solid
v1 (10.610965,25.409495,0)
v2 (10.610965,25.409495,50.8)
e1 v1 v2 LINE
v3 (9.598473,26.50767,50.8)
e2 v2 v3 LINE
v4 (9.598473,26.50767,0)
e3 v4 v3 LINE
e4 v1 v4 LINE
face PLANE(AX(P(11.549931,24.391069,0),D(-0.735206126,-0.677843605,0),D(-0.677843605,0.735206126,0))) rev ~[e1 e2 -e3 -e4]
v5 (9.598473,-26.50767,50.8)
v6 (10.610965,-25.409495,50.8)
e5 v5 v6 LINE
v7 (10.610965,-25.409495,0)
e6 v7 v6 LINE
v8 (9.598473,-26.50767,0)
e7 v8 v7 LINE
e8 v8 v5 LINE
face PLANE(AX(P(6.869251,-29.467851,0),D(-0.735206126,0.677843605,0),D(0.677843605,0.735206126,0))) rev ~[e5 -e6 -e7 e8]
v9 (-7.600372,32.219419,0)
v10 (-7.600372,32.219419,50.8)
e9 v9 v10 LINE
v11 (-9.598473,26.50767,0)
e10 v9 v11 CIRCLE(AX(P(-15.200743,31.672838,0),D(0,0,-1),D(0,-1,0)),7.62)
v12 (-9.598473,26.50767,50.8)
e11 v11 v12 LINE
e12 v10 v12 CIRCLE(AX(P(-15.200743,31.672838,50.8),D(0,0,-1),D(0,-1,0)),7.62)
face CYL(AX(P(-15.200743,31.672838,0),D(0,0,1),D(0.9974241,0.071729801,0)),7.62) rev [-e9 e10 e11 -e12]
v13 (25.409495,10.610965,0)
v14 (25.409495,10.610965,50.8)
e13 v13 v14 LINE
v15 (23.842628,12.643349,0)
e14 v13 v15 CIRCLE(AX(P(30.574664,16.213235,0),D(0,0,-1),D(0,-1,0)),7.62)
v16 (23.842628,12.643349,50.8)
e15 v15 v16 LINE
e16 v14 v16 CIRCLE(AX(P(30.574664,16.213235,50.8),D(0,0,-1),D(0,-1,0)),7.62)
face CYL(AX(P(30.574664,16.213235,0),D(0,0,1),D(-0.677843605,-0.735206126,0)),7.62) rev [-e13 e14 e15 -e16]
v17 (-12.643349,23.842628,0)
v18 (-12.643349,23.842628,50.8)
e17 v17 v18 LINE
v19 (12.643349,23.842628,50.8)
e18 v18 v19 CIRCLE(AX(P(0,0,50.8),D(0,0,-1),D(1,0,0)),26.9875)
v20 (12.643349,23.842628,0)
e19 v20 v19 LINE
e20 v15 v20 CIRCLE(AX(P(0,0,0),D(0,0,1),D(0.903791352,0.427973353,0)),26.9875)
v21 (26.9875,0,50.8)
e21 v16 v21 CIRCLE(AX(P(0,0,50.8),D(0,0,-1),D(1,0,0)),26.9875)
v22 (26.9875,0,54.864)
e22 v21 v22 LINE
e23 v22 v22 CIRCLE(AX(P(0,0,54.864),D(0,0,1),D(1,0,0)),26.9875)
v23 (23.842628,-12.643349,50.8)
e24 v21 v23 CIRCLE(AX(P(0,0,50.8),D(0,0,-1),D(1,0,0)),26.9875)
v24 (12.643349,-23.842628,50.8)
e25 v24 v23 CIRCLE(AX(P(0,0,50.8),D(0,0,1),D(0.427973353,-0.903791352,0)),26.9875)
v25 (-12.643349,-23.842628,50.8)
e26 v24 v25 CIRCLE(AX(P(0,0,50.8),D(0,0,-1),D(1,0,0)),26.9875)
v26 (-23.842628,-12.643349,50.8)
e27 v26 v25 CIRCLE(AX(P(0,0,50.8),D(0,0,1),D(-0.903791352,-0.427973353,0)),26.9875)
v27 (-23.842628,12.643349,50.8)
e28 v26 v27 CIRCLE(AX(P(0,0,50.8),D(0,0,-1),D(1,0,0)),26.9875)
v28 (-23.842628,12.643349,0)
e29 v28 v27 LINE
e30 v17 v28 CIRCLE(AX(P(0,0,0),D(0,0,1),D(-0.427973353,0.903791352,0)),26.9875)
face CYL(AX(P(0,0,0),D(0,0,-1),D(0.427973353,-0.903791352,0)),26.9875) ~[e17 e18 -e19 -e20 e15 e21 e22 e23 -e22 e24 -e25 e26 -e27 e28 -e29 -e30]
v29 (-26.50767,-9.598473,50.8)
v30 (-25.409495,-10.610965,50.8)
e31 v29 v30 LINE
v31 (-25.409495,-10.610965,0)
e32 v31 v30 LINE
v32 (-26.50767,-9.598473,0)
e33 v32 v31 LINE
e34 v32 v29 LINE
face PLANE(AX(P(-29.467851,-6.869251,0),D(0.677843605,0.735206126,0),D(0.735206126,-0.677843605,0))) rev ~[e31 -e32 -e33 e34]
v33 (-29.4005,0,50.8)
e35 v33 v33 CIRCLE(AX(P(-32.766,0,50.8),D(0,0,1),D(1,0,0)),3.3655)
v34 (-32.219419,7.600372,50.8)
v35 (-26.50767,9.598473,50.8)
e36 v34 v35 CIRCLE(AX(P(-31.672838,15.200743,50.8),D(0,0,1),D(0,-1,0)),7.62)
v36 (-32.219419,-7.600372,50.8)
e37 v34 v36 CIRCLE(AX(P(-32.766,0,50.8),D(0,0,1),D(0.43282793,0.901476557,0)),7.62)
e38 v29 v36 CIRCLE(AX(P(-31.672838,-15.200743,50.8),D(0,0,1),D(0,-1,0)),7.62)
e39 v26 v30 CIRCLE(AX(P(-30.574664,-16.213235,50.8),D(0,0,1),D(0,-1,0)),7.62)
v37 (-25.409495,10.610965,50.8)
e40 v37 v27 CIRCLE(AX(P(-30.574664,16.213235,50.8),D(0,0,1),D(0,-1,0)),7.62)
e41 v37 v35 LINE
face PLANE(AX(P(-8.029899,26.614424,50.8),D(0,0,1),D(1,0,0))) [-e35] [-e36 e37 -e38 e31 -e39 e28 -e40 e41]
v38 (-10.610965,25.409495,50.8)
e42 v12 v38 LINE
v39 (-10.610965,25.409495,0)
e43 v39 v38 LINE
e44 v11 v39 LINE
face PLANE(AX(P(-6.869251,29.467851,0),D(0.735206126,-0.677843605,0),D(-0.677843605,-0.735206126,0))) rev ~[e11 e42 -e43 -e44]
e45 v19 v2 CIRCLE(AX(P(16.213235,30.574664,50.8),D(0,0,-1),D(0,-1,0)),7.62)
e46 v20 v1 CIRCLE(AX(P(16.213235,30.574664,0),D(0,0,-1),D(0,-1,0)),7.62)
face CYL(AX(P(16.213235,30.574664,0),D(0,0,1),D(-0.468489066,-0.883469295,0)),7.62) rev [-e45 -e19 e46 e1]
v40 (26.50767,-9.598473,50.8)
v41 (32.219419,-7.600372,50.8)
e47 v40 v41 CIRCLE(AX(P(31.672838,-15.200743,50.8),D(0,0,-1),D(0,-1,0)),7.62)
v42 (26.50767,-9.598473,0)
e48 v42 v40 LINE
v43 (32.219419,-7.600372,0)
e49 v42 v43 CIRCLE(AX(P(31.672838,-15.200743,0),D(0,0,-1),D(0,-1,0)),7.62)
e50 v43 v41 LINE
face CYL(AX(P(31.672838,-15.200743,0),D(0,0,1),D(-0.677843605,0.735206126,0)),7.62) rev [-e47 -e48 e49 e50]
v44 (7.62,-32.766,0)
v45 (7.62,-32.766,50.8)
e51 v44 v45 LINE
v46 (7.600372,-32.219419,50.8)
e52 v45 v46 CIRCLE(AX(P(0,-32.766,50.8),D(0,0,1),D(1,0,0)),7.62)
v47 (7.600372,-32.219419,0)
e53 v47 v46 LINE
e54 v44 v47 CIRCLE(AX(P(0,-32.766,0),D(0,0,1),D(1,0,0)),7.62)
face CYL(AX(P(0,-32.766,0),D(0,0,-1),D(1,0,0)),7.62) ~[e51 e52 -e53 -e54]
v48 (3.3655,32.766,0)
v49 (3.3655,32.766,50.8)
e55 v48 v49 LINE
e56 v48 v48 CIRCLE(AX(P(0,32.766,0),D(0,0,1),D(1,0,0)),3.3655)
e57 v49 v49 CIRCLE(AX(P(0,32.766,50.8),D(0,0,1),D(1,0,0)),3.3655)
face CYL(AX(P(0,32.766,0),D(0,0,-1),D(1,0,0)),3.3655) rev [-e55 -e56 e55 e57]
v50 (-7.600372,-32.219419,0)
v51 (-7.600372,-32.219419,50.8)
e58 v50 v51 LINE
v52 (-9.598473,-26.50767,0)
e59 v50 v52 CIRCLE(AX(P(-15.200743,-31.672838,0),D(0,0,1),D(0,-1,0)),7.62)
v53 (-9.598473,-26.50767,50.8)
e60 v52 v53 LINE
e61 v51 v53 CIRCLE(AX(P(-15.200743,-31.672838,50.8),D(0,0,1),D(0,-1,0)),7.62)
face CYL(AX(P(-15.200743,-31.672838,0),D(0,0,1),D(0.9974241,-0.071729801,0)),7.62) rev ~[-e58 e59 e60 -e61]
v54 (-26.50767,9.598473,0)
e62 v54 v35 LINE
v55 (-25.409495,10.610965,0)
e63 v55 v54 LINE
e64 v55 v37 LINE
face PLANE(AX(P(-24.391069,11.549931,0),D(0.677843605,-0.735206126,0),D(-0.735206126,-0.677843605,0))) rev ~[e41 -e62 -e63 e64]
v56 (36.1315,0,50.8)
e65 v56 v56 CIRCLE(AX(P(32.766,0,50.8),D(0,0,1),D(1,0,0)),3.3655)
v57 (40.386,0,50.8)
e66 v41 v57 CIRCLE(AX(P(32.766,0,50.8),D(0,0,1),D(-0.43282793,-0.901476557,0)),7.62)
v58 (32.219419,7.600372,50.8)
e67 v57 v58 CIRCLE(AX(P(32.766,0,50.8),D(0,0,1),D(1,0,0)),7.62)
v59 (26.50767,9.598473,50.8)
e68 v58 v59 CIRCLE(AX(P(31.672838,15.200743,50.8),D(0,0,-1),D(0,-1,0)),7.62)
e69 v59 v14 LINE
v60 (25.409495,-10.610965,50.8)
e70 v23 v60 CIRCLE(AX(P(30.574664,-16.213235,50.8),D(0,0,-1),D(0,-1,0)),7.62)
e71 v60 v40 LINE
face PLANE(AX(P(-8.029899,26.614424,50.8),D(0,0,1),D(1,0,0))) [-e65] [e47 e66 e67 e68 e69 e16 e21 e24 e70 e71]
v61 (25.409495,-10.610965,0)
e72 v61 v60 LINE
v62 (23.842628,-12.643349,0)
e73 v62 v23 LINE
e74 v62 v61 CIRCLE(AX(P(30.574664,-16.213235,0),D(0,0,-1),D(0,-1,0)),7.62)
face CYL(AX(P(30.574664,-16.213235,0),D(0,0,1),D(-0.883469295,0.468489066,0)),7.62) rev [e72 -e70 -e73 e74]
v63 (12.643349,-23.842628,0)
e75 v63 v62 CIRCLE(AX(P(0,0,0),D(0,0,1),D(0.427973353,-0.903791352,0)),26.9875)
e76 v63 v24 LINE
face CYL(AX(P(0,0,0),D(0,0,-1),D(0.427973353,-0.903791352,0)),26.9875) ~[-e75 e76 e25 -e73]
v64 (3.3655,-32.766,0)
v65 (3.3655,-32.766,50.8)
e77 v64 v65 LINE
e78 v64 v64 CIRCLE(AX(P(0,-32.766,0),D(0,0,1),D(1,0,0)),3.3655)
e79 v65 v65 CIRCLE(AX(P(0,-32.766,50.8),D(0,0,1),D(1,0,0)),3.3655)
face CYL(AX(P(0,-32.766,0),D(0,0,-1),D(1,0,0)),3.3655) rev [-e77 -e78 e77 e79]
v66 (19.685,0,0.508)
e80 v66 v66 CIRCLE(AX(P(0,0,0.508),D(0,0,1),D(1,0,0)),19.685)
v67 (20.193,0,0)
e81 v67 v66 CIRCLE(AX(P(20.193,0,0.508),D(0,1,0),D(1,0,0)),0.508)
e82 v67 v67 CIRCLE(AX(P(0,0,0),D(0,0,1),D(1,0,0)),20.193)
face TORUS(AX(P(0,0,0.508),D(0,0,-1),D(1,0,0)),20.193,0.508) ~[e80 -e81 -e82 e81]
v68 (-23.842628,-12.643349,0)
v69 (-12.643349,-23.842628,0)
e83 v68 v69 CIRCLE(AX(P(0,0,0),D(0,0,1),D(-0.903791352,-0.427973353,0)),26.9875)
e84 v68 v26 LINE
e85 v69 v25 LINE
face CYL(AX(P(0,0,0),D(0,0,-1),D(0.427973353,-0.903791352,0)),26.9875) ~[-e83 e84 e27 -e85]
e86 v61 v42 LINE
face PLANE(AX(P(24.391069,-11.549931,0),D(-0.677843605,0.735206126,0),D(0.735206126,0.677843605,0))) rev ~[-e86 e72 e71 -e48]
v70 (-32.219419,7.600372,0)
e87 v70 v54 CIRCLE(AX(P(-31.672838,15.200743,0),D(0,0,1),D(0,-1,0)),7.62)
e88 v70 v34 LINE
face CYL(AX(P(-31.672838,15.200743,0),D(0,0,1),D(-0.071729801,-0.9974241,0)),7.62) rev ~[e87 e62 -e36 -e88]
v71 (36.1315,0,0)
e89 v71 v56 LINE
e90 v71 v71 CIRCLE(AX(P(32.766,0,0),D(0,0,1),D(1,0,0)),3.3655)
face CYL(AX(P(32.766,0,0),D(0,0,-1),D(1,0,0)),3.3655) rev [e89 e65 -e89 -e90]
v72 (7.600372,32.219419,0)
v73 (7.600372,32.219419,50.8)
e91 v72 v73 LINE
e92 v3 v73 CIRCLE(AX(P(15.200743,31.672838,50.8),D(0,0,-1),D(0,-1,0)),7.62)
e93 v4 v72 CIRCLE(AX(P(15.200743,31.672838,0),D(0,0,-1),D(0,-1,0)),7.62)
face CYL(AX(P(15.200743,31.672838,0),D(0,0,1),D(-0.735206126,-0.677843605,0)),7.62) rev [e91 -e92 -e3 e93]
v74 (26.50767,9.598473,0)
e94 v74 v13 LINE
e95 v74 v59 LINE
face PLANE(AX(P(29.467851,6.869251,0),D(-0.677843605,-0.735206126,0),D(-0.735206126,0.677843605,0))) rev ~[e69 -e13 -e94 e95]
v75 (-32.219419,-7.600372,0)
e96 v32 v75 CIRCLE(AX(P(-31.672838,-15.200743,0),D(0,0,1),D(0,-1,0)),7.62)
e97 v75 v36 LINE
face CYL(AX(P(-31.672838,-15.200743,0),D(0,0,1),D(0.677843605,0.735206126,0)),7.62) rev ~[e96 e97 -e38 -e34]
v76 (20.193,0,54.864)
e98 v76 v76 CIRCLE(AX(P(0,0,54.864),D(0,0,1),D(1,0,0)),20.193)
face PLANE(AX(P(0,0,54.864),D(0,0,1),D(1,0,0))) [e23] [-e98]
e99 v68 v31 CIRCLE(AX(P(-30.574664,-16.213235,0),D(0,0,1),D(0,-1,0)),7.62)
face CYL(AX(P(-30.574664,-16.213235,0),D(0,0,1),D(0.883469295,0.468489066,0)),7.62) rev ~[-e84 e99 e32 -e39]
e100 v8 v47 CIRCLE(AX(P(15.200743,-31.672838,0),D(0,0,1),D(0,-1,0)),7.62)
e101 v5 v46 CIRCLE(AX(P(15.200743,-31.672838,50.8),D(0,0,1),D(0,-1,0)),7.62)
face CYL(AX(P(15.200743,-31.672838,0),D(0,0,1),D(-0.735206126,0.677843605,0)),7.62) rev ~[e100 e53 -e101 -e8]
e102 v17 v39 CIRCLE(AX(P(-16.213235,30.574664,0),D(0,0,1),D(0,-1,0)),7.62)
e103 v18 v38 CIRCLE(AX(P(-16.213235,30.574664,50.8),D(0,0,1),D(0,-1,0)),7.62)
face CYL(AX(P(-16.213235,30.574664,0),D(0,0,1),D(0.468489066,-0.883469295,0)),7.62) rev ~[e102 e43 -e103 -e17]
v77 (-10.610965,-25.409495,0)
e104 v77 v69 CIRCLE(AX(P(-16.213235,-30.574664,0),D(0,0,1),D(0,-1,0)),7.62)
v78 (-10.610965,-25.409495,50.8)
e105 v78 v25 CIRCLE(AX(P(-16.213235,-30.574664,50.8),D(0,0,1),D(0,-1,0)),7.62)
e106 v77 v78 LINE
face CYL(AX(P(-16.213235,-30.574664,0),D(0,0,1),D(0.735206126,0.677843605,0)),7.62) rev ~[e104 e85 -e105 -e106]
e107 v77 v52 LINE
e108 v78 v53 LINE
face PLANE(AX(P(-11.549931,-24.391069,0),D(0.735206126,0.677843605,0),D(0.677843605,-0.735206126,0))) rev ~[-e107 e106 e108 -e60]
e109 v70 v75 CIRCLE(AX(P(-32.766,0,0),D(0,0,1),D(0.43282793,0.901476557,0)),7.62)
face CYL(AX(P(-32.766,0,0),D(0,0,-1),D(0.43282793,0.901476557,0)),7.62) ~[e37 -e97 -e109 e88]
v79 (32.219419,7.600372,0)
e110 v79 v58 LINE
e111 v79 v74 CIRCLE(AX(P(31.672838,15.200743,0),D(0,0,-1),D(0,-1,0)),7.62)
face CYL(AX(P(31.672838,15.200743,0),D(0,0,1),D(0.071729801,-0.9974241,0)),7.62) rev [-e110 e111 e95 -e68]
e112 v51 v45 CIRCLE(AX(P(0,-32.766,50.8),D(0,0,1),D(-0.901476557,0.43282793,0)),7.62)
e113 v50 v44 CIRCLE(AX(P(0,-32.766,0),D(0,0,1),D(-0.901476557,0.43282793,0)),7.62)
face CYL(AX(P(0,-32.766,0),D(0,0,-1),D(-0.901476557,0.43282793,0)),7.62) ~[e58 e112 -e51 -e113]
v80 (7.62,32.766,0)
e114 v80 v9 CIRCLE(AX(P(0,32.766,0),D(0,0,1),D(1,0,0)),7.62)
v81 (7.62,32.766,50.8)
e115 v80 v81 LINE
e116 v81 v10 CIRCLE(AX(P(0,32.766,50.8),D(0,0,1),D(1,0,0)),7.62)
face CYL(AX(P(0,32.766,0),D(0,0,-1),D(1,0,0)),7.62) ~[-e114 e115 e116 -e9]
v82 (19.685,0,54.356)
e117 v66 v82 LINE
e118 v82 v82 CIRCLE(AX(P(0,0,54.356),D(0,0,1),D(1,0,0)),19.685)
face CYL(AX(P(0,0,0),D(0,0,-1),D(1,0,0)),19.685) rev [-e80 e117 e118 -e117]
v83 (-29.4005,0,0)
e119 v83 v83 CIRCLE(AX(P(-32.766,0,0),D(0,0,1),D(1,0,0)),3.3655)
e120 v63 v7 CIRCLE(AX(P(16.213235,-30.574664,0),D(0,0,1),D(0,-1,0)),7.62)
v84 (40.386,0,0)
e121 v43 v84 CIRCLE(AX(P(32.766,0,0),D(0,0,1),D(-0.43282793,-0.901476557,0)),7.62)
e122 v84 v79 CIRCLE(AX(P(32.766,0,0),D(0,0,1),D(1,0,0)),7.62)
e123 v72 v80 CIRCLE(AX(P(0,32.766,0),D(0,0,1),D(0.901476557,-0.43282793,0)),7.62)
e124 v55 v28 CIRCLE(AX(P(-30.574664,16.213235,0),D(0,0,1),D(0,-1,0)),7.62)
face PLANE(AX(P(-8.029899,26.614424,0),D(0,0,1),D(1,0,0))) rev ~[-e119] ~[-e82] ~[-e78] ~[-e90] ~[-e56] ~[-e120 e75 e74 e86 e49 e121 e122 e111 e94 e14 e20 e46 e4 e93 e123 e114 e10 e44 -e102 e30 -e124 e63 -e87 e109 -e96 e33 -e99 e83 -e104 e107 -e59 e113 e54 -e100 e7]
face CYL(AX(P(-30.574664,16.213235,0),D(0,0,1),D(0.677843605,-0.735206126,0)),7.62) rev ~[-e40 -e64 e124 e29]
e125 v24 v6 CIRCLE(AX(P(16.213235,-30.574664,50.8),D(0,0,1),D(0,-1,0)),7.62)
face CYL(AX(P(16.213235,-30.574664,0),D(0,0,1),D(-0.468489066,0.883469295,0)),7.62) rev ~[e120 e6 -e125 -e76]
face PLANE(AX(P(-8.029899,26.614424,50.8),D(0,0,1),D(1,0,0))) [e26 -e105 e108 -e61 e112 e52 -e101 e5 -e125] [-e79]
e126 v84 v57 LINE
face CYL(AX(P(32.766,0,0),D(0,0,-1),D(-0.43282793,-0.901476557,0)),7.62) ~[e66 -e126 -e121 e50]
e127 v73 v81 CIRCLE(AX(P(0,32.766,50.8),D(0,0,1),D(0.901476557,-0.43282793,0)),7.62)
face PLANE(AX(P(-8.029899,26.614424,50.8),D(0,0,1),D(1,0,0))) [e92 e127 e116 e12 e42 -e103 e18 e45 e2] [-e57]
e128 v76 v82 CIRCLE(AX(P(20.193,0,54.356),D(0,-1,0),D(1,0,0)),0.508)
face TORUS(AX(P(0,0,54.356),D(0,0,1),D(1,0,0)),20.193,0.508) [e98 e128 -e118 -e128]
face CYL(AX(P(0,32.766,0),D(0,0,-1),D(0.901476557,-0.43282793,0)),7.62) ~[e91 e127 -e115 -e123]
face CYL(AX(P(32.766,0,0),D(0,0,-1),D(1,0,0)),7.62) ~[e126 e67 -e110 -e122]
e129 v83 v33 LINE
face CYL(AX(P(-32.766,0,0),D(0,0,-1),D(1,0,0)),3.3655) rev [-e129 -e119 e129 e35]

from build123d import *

# Parameters (mm, degrees)
F0_R     = 3.3655
F0_R_2   = 20.32
F1_DEPTH = 50.8
F2_R     = 7.62
F3_R     = 26.9875
F3_R_2   = 19.685
F4_DEPTH = 54.864
F5_R     = 0.508


with BuildPart() as f1:
    # F0 (on Top) → F1 (new body)
    with BuildSketch(Plane.XY):
        with BuildLine():
            ThreePointArc((-11.5499308761, 24.3910691239), (-8.0975226707, 25.7440339273), (-4.4922459427, 26.6109917636))
            ThreePointArc((-4.4922459427, 26.6109917636), (-5.8575862517, 27.8922864976), (-6.8692513658, 29.4678511747))
            Line((-6.8692513658, 29.4678511747), (-11.5499308761, 24.3910691239))
        make_face()
        with BuildLine():
            ThreePointArc((4.4922459427, 26.6109917636), (8.0975226707, 25.7440339273), (11.5499308761, 24.3910691239))
            Line((11.5499308761, 24.3910691239), (6.8692513658, 29.4678511747))
            ThreePointArc((6.8692513658, 29.4678511747), (5.8575862517, 27.8922864976), (4.4922459427, 26.6109917636))
        make_face()
        with BuildLine():
            ThreePointArc((-4.4922459427, 26.6109917636), (0, 26.9875), (4.4922459427, 26.6109917636))
            ThreePointArc((4.4922459427, 26.6109917636), (5.8575862517, 27.8922864976), (6.8692513658, 29.4678511747))
            ThreePointArc((6.8692513658, 29.4678511747), (7.4299426447, 31.0747423921), (7.62, 32.766))
            ThreePointArc((7.62, 32.766), (-1.6912576079, 40.1959426447), (-6.8692513658, 29.4678511747))
            ThreePointArc((-6.8692513658, 29.4678511747), (-5.8575862517, 27.8922864976), (-4.4922459427, 26.6109917636))
        make_face()
        with Locations((0, 32.766)):
            Circle(F0_R, mode=Mode.SUBTRACT)
        with BuildLine():
            ThreePointArc((-4.4922459427, 26.6109917636), (0, 25.146), (4.4922459427, 26.6109917636))
            ThreePointArc((4.4922459427, 26.6109917636), (0, 26.9875), (-4.4922459427, 26.6109917636))
        make_face()
        with BuildLine():
            ThreePointArc((-26.6109917636, 4.4922459427), (-25.7440339273, 8.0975226707), (-24.3910691239, 11.5499308761))
            Line((-24.3910691239, 11.5499308761), (-29.4678511747, 6.8692513658))
            ThreePointArc((-29.4678511747, 6.8692513658), (-27.8922864976, 5.8575862517), (-26.6109917636, 4.4922459427))
        make_face()
        with BuildLine():
            ThreePointArc((-26.6109917636, -4.4922459427), (-26.9875, 0), (-26.6109917636, 4.4922459427))
            ThreePointArc((-26.6109917636, 4.4922459427), (-27.8922864976, 5.8575862517), (-29.4678511747, 6.8692513658))
            ThreePointArc((-29.4678511747, 6.8692513658), (-40.386, 0), (-29.4678511747, -6.8692513658))
            ThreePointArc((-29.4678511747, -6.8692513658), (-27.8922864976, -5.8575862517), (-26.6109917636, -4.4922459427))
        make_face()
        with Locations((-32.766, 0)):
            Circle(F0_R, mode=Mode.SUBTRACT)
        with BuildLine():
            ThreePointArc((-25.146, 0), (-25.521499922, 2.3625449454), (-26.6109917636, 4.4922459427))
            ThreePointArc((-26.6109917636, 4.4922459427), (-26.9875, 0), (-26.6109917636, -4.4922459427))
            ThreePointArc((-26.6109917636, -4.4922459427), (-25.521499922, -2.3625449454), (-25.146, 0))
        make_face()
        with BuildLine():
            ThreePointArc((-24.3910691239, -11.5499308761), (-25.7440339273, -8.0975226707), (-26.6109917636, -4.4922459427))
            ThreePointArc((-26.6109917636, -4.4922459427), (-27.8922864976, -5.8575862517), (-29.4678511747, -6.8692513658))
            Line((-29.4678511747, -6.8692513658), (-24.3910691239, -11.5499308761))
        make_face()
        with BuildLine():
            ThreePointArc((-6.8692513658, -29.4678511747), (-5.8575862517, -27.8922864976), (-4.4922459427, -26.6109917636))
            ThreePointArc((-4.4922459427, -26.6109917636), (-8.0975226707, -25.7440339273), (-11.5499308761, -24.3910691239))
            Line((-11.5499308761, -24.3910691239), (-6.8692513658, -29.4678511747))
        make_face()
        with BuildLine():
            ThreePointArc((-4.4922459427, -26.6109917636), (0, -26.9875), (4.4922459427, -26.6109917636))
            ThreePointArc((4.4922459427, -26.6109917636), (0, -25.146), (-4.4922459427, -26.6109917636))
        make_face()
        with BuildLine():
            ThreePointArc((6.8692513658, -29.4678511747), (5.8575862517, -27.8922864976), (4.4922459427, -26.6109917636))
            ThreePointArc((4.4922459427, -26.6109917636), (0, -26.9875), (-4.4922459427, -26.6109917636))
            ThreePointArc((-4.4922459427, -26.6109917636), (-5.8575862517, -27.8922864976), (-6.8692513658, -29.4678511747))
            ThreePointArc((-6.8692513658, -29.4678511747), (-1.6912576079, -40.1959426447), (7.62, -32.766))
            ThreePointArc((7.62, -32.766), (7.4299426447, -31.0747423921), (6.8692513658, -29.4678511747))
        make_face()
        with Locations((0, -32.766)):
            Circle(F0_R, mode=Mode.SUBTRACT)
        with BuildLine():
            Line((6.8692513658, -29.4678511747), (11.5499308761, -24.3910691239))
            ThreePointArc((11.5499308761, -24.3910691239), (8.0975226707, -25.7440339273), (4.4922459427, -26.6109917636))
            ThreePointArc((4.4922459427, -26.6109917636), (5.8575862517, -27.8922864976), (6.8692513658, -29.4678511747))
        make_face()
        with BuildLine():
            ThreePointArc((29.4678511747, -6.8692513658), (27.8922864976, -5.8575862517), (26.6109917636, -4.4922459427))
            ThreePointArc((26.6109917636, -4.4922459427), (25.7440339273, -8.0975226707), (24.3910691239, -11.5499308761))
            Line((24.3910691239, -11.5499308761), (29.4678511747, -6.8692513658))
        make_face()
        with BuildLine():
            ThreePointArc((29.4678511747, 6.8692513658), (27.8922864976, 5.8575862517), (26.6109917636, 4.4922459427))
            ThreePointArc((26.6109917636, 4.4922459427), (26.8932082176, 2.2539982288), (26.9875, 0))
            ThreePointArc((26.9875, 0), (26.8932082176, -2.2539982288), (26.6109917636, -4.4922459427))
            ThreePointArc((26.6109917636, -4.4922459427), (27.8922864976, -5.8575862517), (29.4678511747, -6.8692513658))
            ThreePointArc((29.4678511747, -6.8692513658), (36.8238631046, -6.4496625512), (40.386, 0))
            ThreePointArc((40.386, 0), (36.8238631046, 6.4496625512), (29.4678511747, 6.8692513658))
        make_face()
        with Locations((32.766, 0)):
            Circle(F0_R, mode=Mode.SUBTRACT)
        with BuildLine():
            ThreePointArc((26.9875, 0), (26.8932082176, 2.2539982288), (26.6109917636, 4.4922459427))
            ThreePointArc((26.6109917636, 4.4922459427), (25.146, 0), (26.6109917636, -4.4922459427))
            ThreePointArc((26.6109917636, -4.4922459427), (26.8932082176, -2.2539982288), (26.9875, 0))
        make_face()
        with BuildLine():
            Line((29.4678511747, 6.8692513658), (24.3910691239, 11.5499308761))
            ThreePointArc((24.3910691239, 11.5499308761), (25.7440339273, 8.0975226707), (26.6109917636, 4.4922459427))
            ThreePointArc((26.6109917636, 4.4922459427), (27.8922864976, 5.8575862517), (29.4678511747, 6.8692513658))
        make_face()
        with BuildLine():
            ThreePointArc((26.6109917636, 4.4922459427), (25.7440339273, 8.0975226707), (24.3910691239, 11.5499308761))
            ThreePointArc((24.3910691239, 11.5499308761), (19.0830442573, 19.0830442573), (11.5499308761, 24.3910691239))
            ThreePointArc((11.5499308761, 24.3910691239), (8.0975226707, 25.7440339273), (4.4922459427, 26.6109917636))
            ThreePointArc((4.4922459427, 26.6109917636), (0, 25.146), (-4.4922459427, 26.6109917636))
            ThreePointArc((-4.4922459427, 26.6109917636), (-8.0975226707, 25.7440339273), (-11.5499308761, 24.3910691239))
            ThreePointArc((-11.5499308761, 24.3910691239), (-19.0830442573, 19.0830442573), (-24.3910691239, 11.5499308761))
            ThreePointArc((-24.3910691239, 11.5499308761), (-25.7440339273, 8.0975226707), (-26.6109917636, 4.4922459427))
            ThreePointArc((-26.6109917636, 4.4922459427), (-25.521499922, 2.3625449454), (-25.146, 0))
            ThreePointArc((-25.146, 0), (-25.521499922, -2.3625449454), (-26.6109917636, -4.4922459427))
            ThreePointArc((-26.6109917636, -4.4922459427), (-25.7440339273, -8.0975226707), (-24.3910691239, -11.5499308761))
            ThreePointArc((-24.3910691239, -11.5499308761), (-19.0830442573, -19.0830442573), (-11.5499308761, -24.3910691239))
            ThreePointArc((-11.5499308761, -24.3910691239), (-8.0975226707, -25.7440339273), (-4.4922459427, -26.6109917636))
            ThreePointArc((-4.4922459427, -26.6109917636), (0, -25.146), (4.4922459427, -26.6109917636))
            ThreePointArc((4.4922459427, -26.6109917636), (8.0975226707, -25.7440339273), (11.5499308761, -24.3910691239))
            ThreePointArc((11.5499308761, -24.3910691239), (19.0830442573, -19.0830442573), (24.3910691239, -11.5499308761))
            ThreePointArc((24.3910691239, -11.5499308761), (25.7440339273, -8.0975226707), (26.6109917636, -4.4922459427))
            ThreePointArc((26.6109917636, -4.4922459427), (25.146, 0), (26.6109917636, 4.4922459427))
        make_face()
        Circle(F0_R_2, mode=Mode.SUBTRACT)
        with BuildLine():
            ThreePointArc((-4.4922459427, 26.6109917636), (0, 26.9875), (4.4922459427, 26.6109917636))
            ThreePointArc((4.4922459427, 26.6109917636), (5.8575862517, 27.8922864976), (6.8692513658, 29.4678511747))
            ThreePointArc((6.8692513658, 29.4678511747), (7.4299426447, 31.0747423921), (7.62, 32.766))
            ThreePointArc((7.62, 32.766), (-1.6912576079, 40.1959426447), (-6.8692513658, 29.4678511747))
            ThreePointArc((-6.8692513658, 29.4678511747), (-5.8575862517, 27.8922864976), (-4.4922459427, 26.6109917636))
        make_face()
        with Locations((0, 32.766)):
            Circle(F0_R, mode=Mode.SUBTRACT)
        with BuildLine():
            ThreePointArc((-26.6109917636, -4.4922459427), (-26.9875, 0), (-26.6109917636, 4.4922459427))
            ThreePointArc((-26.6109917636, 4.4922459427), (-27.8922864976, 5.8575862517), (-29.4678511747, 6.8692513658))
            ThreePointArc((-29.4678511747, 6.8692513658), (-40.386, 0), (-29.4678511747, -6.8692513658))
            ThreePointArc((-29.4678511747, -6.8692513658), (-27.8922864976, -5.8575862517), (-26.6109917636, -4.4922459427))
        make_face()
        with Locations((-32.766, 0)):
            Circle(F0_R, mode=Mode.SUBTRACT)
        with BuildLine():
            ThreePointArc((29.4678511747, 6.8692513658), (27.8922864976, 5.8575862517), (26.6109917636, 4.4922459427))
            ThreePointArc((26.6109917636, 4.4922459427), (26.8932082176, 2.2539982288), (26.9875, 0))
            ThreePointArc((26.9875, 0), (26.8932082176, -2.2539982288), (26.6109917636, -4.4922459427))
            ThreePointArc((26.6109917636, -4.4922459427), (27.8922864976, -5.8575862517), (29.4678511747, -6.8692513658))
            ThreePointArc((29.4678511747, -6.8692513658), (36.8238631046, -6.4496625512), (40.386, 0))
            ThreePointArc((40.386, 0), (36.8238631046, 6.4496625512), (29.4678511747, 6.8692513658))
        make_face()
        with Locations((32.766, 0)):
            Circle(F0_R, mode=Mode.SUBTRACT)
        with BuildLine():
            ThreePointArc((6.8692513658, -29.4678511747), (5.8575862517, -27.8922864976), (4.4922459427, -26.6109917636))
            ThreePointArc((4.4922459427, -26.6109917636), (0, -26.9875), (-4.4922459427, -26.6109917636))
            ThreePointArc((-4.4922459427, -26.6109917636), (-5.8575862517, -27.8922864976), (-6.8692513658, -29.4678511747))
            ThreePointArc((-6.8692513658, -29.4678511747), (-1.6912576079, -40.1959426447), (7.62, -32.766))
            ThreePointArc((7.62, -32.766), (7.4299426447, -31.0747423921), (6.8692513658, -29.4678511747))
        make_face()
        with Locations((0, -32.766)):
            Circle(F0_R, mode=Mode.SUBTRACT)
    extrude(amount=F1_DEPTH)

    # F2
    f2_edges = [f1.edges().sort_by_distance(p)[0] for p in [
        (-6.869251, 29.467851, 25.4),
        (-29.467851, 6.869251, 25.4),
        (-29.467851, -6.869251, 25.4),
        (-24.391069, -11.549931, 25.4),
        (-11.549931, -24.391069, 25.4),
        (-6.869251, -29.467851, 25.4),
        (6.869251, -29.467851, 25.4),
        (11.549931, -24.391069, 25.4),
        (24.391069, -11.549931, 25.4),
        (29.467851, -6.869251, 25.4),
        (29.467851, 6.869251, 25.4),
        (24.391069, 11.549931, 25.4),
        (11.549931, 24.391069, 25.4),
        (6.869251, 29.467851, 25.4),
        (-11.549931, 24.391069, 25.4),
        (-24.391069, 11.549931, 25.4),
    ]]
    fillet(f2_edges, radius=F2_R)

    # F3 (on Top) → F4 (join)
    with BuildSketch(Plane.XY):
        Circle(F3_R)
        Circle(F3_R_2, mode=Mode.SUBTRACT)
    extrude(amount=F4_DEPTH)

    # F5
    f5_edges = [f1.edges().sort_by_distance(p)[0] for p in [
        (-19.685, 0, 54.864),
        (-19.685, 0, 0),
    ]]
    fillet(f5_edges, radius=F5_R)


solid = f1.part
